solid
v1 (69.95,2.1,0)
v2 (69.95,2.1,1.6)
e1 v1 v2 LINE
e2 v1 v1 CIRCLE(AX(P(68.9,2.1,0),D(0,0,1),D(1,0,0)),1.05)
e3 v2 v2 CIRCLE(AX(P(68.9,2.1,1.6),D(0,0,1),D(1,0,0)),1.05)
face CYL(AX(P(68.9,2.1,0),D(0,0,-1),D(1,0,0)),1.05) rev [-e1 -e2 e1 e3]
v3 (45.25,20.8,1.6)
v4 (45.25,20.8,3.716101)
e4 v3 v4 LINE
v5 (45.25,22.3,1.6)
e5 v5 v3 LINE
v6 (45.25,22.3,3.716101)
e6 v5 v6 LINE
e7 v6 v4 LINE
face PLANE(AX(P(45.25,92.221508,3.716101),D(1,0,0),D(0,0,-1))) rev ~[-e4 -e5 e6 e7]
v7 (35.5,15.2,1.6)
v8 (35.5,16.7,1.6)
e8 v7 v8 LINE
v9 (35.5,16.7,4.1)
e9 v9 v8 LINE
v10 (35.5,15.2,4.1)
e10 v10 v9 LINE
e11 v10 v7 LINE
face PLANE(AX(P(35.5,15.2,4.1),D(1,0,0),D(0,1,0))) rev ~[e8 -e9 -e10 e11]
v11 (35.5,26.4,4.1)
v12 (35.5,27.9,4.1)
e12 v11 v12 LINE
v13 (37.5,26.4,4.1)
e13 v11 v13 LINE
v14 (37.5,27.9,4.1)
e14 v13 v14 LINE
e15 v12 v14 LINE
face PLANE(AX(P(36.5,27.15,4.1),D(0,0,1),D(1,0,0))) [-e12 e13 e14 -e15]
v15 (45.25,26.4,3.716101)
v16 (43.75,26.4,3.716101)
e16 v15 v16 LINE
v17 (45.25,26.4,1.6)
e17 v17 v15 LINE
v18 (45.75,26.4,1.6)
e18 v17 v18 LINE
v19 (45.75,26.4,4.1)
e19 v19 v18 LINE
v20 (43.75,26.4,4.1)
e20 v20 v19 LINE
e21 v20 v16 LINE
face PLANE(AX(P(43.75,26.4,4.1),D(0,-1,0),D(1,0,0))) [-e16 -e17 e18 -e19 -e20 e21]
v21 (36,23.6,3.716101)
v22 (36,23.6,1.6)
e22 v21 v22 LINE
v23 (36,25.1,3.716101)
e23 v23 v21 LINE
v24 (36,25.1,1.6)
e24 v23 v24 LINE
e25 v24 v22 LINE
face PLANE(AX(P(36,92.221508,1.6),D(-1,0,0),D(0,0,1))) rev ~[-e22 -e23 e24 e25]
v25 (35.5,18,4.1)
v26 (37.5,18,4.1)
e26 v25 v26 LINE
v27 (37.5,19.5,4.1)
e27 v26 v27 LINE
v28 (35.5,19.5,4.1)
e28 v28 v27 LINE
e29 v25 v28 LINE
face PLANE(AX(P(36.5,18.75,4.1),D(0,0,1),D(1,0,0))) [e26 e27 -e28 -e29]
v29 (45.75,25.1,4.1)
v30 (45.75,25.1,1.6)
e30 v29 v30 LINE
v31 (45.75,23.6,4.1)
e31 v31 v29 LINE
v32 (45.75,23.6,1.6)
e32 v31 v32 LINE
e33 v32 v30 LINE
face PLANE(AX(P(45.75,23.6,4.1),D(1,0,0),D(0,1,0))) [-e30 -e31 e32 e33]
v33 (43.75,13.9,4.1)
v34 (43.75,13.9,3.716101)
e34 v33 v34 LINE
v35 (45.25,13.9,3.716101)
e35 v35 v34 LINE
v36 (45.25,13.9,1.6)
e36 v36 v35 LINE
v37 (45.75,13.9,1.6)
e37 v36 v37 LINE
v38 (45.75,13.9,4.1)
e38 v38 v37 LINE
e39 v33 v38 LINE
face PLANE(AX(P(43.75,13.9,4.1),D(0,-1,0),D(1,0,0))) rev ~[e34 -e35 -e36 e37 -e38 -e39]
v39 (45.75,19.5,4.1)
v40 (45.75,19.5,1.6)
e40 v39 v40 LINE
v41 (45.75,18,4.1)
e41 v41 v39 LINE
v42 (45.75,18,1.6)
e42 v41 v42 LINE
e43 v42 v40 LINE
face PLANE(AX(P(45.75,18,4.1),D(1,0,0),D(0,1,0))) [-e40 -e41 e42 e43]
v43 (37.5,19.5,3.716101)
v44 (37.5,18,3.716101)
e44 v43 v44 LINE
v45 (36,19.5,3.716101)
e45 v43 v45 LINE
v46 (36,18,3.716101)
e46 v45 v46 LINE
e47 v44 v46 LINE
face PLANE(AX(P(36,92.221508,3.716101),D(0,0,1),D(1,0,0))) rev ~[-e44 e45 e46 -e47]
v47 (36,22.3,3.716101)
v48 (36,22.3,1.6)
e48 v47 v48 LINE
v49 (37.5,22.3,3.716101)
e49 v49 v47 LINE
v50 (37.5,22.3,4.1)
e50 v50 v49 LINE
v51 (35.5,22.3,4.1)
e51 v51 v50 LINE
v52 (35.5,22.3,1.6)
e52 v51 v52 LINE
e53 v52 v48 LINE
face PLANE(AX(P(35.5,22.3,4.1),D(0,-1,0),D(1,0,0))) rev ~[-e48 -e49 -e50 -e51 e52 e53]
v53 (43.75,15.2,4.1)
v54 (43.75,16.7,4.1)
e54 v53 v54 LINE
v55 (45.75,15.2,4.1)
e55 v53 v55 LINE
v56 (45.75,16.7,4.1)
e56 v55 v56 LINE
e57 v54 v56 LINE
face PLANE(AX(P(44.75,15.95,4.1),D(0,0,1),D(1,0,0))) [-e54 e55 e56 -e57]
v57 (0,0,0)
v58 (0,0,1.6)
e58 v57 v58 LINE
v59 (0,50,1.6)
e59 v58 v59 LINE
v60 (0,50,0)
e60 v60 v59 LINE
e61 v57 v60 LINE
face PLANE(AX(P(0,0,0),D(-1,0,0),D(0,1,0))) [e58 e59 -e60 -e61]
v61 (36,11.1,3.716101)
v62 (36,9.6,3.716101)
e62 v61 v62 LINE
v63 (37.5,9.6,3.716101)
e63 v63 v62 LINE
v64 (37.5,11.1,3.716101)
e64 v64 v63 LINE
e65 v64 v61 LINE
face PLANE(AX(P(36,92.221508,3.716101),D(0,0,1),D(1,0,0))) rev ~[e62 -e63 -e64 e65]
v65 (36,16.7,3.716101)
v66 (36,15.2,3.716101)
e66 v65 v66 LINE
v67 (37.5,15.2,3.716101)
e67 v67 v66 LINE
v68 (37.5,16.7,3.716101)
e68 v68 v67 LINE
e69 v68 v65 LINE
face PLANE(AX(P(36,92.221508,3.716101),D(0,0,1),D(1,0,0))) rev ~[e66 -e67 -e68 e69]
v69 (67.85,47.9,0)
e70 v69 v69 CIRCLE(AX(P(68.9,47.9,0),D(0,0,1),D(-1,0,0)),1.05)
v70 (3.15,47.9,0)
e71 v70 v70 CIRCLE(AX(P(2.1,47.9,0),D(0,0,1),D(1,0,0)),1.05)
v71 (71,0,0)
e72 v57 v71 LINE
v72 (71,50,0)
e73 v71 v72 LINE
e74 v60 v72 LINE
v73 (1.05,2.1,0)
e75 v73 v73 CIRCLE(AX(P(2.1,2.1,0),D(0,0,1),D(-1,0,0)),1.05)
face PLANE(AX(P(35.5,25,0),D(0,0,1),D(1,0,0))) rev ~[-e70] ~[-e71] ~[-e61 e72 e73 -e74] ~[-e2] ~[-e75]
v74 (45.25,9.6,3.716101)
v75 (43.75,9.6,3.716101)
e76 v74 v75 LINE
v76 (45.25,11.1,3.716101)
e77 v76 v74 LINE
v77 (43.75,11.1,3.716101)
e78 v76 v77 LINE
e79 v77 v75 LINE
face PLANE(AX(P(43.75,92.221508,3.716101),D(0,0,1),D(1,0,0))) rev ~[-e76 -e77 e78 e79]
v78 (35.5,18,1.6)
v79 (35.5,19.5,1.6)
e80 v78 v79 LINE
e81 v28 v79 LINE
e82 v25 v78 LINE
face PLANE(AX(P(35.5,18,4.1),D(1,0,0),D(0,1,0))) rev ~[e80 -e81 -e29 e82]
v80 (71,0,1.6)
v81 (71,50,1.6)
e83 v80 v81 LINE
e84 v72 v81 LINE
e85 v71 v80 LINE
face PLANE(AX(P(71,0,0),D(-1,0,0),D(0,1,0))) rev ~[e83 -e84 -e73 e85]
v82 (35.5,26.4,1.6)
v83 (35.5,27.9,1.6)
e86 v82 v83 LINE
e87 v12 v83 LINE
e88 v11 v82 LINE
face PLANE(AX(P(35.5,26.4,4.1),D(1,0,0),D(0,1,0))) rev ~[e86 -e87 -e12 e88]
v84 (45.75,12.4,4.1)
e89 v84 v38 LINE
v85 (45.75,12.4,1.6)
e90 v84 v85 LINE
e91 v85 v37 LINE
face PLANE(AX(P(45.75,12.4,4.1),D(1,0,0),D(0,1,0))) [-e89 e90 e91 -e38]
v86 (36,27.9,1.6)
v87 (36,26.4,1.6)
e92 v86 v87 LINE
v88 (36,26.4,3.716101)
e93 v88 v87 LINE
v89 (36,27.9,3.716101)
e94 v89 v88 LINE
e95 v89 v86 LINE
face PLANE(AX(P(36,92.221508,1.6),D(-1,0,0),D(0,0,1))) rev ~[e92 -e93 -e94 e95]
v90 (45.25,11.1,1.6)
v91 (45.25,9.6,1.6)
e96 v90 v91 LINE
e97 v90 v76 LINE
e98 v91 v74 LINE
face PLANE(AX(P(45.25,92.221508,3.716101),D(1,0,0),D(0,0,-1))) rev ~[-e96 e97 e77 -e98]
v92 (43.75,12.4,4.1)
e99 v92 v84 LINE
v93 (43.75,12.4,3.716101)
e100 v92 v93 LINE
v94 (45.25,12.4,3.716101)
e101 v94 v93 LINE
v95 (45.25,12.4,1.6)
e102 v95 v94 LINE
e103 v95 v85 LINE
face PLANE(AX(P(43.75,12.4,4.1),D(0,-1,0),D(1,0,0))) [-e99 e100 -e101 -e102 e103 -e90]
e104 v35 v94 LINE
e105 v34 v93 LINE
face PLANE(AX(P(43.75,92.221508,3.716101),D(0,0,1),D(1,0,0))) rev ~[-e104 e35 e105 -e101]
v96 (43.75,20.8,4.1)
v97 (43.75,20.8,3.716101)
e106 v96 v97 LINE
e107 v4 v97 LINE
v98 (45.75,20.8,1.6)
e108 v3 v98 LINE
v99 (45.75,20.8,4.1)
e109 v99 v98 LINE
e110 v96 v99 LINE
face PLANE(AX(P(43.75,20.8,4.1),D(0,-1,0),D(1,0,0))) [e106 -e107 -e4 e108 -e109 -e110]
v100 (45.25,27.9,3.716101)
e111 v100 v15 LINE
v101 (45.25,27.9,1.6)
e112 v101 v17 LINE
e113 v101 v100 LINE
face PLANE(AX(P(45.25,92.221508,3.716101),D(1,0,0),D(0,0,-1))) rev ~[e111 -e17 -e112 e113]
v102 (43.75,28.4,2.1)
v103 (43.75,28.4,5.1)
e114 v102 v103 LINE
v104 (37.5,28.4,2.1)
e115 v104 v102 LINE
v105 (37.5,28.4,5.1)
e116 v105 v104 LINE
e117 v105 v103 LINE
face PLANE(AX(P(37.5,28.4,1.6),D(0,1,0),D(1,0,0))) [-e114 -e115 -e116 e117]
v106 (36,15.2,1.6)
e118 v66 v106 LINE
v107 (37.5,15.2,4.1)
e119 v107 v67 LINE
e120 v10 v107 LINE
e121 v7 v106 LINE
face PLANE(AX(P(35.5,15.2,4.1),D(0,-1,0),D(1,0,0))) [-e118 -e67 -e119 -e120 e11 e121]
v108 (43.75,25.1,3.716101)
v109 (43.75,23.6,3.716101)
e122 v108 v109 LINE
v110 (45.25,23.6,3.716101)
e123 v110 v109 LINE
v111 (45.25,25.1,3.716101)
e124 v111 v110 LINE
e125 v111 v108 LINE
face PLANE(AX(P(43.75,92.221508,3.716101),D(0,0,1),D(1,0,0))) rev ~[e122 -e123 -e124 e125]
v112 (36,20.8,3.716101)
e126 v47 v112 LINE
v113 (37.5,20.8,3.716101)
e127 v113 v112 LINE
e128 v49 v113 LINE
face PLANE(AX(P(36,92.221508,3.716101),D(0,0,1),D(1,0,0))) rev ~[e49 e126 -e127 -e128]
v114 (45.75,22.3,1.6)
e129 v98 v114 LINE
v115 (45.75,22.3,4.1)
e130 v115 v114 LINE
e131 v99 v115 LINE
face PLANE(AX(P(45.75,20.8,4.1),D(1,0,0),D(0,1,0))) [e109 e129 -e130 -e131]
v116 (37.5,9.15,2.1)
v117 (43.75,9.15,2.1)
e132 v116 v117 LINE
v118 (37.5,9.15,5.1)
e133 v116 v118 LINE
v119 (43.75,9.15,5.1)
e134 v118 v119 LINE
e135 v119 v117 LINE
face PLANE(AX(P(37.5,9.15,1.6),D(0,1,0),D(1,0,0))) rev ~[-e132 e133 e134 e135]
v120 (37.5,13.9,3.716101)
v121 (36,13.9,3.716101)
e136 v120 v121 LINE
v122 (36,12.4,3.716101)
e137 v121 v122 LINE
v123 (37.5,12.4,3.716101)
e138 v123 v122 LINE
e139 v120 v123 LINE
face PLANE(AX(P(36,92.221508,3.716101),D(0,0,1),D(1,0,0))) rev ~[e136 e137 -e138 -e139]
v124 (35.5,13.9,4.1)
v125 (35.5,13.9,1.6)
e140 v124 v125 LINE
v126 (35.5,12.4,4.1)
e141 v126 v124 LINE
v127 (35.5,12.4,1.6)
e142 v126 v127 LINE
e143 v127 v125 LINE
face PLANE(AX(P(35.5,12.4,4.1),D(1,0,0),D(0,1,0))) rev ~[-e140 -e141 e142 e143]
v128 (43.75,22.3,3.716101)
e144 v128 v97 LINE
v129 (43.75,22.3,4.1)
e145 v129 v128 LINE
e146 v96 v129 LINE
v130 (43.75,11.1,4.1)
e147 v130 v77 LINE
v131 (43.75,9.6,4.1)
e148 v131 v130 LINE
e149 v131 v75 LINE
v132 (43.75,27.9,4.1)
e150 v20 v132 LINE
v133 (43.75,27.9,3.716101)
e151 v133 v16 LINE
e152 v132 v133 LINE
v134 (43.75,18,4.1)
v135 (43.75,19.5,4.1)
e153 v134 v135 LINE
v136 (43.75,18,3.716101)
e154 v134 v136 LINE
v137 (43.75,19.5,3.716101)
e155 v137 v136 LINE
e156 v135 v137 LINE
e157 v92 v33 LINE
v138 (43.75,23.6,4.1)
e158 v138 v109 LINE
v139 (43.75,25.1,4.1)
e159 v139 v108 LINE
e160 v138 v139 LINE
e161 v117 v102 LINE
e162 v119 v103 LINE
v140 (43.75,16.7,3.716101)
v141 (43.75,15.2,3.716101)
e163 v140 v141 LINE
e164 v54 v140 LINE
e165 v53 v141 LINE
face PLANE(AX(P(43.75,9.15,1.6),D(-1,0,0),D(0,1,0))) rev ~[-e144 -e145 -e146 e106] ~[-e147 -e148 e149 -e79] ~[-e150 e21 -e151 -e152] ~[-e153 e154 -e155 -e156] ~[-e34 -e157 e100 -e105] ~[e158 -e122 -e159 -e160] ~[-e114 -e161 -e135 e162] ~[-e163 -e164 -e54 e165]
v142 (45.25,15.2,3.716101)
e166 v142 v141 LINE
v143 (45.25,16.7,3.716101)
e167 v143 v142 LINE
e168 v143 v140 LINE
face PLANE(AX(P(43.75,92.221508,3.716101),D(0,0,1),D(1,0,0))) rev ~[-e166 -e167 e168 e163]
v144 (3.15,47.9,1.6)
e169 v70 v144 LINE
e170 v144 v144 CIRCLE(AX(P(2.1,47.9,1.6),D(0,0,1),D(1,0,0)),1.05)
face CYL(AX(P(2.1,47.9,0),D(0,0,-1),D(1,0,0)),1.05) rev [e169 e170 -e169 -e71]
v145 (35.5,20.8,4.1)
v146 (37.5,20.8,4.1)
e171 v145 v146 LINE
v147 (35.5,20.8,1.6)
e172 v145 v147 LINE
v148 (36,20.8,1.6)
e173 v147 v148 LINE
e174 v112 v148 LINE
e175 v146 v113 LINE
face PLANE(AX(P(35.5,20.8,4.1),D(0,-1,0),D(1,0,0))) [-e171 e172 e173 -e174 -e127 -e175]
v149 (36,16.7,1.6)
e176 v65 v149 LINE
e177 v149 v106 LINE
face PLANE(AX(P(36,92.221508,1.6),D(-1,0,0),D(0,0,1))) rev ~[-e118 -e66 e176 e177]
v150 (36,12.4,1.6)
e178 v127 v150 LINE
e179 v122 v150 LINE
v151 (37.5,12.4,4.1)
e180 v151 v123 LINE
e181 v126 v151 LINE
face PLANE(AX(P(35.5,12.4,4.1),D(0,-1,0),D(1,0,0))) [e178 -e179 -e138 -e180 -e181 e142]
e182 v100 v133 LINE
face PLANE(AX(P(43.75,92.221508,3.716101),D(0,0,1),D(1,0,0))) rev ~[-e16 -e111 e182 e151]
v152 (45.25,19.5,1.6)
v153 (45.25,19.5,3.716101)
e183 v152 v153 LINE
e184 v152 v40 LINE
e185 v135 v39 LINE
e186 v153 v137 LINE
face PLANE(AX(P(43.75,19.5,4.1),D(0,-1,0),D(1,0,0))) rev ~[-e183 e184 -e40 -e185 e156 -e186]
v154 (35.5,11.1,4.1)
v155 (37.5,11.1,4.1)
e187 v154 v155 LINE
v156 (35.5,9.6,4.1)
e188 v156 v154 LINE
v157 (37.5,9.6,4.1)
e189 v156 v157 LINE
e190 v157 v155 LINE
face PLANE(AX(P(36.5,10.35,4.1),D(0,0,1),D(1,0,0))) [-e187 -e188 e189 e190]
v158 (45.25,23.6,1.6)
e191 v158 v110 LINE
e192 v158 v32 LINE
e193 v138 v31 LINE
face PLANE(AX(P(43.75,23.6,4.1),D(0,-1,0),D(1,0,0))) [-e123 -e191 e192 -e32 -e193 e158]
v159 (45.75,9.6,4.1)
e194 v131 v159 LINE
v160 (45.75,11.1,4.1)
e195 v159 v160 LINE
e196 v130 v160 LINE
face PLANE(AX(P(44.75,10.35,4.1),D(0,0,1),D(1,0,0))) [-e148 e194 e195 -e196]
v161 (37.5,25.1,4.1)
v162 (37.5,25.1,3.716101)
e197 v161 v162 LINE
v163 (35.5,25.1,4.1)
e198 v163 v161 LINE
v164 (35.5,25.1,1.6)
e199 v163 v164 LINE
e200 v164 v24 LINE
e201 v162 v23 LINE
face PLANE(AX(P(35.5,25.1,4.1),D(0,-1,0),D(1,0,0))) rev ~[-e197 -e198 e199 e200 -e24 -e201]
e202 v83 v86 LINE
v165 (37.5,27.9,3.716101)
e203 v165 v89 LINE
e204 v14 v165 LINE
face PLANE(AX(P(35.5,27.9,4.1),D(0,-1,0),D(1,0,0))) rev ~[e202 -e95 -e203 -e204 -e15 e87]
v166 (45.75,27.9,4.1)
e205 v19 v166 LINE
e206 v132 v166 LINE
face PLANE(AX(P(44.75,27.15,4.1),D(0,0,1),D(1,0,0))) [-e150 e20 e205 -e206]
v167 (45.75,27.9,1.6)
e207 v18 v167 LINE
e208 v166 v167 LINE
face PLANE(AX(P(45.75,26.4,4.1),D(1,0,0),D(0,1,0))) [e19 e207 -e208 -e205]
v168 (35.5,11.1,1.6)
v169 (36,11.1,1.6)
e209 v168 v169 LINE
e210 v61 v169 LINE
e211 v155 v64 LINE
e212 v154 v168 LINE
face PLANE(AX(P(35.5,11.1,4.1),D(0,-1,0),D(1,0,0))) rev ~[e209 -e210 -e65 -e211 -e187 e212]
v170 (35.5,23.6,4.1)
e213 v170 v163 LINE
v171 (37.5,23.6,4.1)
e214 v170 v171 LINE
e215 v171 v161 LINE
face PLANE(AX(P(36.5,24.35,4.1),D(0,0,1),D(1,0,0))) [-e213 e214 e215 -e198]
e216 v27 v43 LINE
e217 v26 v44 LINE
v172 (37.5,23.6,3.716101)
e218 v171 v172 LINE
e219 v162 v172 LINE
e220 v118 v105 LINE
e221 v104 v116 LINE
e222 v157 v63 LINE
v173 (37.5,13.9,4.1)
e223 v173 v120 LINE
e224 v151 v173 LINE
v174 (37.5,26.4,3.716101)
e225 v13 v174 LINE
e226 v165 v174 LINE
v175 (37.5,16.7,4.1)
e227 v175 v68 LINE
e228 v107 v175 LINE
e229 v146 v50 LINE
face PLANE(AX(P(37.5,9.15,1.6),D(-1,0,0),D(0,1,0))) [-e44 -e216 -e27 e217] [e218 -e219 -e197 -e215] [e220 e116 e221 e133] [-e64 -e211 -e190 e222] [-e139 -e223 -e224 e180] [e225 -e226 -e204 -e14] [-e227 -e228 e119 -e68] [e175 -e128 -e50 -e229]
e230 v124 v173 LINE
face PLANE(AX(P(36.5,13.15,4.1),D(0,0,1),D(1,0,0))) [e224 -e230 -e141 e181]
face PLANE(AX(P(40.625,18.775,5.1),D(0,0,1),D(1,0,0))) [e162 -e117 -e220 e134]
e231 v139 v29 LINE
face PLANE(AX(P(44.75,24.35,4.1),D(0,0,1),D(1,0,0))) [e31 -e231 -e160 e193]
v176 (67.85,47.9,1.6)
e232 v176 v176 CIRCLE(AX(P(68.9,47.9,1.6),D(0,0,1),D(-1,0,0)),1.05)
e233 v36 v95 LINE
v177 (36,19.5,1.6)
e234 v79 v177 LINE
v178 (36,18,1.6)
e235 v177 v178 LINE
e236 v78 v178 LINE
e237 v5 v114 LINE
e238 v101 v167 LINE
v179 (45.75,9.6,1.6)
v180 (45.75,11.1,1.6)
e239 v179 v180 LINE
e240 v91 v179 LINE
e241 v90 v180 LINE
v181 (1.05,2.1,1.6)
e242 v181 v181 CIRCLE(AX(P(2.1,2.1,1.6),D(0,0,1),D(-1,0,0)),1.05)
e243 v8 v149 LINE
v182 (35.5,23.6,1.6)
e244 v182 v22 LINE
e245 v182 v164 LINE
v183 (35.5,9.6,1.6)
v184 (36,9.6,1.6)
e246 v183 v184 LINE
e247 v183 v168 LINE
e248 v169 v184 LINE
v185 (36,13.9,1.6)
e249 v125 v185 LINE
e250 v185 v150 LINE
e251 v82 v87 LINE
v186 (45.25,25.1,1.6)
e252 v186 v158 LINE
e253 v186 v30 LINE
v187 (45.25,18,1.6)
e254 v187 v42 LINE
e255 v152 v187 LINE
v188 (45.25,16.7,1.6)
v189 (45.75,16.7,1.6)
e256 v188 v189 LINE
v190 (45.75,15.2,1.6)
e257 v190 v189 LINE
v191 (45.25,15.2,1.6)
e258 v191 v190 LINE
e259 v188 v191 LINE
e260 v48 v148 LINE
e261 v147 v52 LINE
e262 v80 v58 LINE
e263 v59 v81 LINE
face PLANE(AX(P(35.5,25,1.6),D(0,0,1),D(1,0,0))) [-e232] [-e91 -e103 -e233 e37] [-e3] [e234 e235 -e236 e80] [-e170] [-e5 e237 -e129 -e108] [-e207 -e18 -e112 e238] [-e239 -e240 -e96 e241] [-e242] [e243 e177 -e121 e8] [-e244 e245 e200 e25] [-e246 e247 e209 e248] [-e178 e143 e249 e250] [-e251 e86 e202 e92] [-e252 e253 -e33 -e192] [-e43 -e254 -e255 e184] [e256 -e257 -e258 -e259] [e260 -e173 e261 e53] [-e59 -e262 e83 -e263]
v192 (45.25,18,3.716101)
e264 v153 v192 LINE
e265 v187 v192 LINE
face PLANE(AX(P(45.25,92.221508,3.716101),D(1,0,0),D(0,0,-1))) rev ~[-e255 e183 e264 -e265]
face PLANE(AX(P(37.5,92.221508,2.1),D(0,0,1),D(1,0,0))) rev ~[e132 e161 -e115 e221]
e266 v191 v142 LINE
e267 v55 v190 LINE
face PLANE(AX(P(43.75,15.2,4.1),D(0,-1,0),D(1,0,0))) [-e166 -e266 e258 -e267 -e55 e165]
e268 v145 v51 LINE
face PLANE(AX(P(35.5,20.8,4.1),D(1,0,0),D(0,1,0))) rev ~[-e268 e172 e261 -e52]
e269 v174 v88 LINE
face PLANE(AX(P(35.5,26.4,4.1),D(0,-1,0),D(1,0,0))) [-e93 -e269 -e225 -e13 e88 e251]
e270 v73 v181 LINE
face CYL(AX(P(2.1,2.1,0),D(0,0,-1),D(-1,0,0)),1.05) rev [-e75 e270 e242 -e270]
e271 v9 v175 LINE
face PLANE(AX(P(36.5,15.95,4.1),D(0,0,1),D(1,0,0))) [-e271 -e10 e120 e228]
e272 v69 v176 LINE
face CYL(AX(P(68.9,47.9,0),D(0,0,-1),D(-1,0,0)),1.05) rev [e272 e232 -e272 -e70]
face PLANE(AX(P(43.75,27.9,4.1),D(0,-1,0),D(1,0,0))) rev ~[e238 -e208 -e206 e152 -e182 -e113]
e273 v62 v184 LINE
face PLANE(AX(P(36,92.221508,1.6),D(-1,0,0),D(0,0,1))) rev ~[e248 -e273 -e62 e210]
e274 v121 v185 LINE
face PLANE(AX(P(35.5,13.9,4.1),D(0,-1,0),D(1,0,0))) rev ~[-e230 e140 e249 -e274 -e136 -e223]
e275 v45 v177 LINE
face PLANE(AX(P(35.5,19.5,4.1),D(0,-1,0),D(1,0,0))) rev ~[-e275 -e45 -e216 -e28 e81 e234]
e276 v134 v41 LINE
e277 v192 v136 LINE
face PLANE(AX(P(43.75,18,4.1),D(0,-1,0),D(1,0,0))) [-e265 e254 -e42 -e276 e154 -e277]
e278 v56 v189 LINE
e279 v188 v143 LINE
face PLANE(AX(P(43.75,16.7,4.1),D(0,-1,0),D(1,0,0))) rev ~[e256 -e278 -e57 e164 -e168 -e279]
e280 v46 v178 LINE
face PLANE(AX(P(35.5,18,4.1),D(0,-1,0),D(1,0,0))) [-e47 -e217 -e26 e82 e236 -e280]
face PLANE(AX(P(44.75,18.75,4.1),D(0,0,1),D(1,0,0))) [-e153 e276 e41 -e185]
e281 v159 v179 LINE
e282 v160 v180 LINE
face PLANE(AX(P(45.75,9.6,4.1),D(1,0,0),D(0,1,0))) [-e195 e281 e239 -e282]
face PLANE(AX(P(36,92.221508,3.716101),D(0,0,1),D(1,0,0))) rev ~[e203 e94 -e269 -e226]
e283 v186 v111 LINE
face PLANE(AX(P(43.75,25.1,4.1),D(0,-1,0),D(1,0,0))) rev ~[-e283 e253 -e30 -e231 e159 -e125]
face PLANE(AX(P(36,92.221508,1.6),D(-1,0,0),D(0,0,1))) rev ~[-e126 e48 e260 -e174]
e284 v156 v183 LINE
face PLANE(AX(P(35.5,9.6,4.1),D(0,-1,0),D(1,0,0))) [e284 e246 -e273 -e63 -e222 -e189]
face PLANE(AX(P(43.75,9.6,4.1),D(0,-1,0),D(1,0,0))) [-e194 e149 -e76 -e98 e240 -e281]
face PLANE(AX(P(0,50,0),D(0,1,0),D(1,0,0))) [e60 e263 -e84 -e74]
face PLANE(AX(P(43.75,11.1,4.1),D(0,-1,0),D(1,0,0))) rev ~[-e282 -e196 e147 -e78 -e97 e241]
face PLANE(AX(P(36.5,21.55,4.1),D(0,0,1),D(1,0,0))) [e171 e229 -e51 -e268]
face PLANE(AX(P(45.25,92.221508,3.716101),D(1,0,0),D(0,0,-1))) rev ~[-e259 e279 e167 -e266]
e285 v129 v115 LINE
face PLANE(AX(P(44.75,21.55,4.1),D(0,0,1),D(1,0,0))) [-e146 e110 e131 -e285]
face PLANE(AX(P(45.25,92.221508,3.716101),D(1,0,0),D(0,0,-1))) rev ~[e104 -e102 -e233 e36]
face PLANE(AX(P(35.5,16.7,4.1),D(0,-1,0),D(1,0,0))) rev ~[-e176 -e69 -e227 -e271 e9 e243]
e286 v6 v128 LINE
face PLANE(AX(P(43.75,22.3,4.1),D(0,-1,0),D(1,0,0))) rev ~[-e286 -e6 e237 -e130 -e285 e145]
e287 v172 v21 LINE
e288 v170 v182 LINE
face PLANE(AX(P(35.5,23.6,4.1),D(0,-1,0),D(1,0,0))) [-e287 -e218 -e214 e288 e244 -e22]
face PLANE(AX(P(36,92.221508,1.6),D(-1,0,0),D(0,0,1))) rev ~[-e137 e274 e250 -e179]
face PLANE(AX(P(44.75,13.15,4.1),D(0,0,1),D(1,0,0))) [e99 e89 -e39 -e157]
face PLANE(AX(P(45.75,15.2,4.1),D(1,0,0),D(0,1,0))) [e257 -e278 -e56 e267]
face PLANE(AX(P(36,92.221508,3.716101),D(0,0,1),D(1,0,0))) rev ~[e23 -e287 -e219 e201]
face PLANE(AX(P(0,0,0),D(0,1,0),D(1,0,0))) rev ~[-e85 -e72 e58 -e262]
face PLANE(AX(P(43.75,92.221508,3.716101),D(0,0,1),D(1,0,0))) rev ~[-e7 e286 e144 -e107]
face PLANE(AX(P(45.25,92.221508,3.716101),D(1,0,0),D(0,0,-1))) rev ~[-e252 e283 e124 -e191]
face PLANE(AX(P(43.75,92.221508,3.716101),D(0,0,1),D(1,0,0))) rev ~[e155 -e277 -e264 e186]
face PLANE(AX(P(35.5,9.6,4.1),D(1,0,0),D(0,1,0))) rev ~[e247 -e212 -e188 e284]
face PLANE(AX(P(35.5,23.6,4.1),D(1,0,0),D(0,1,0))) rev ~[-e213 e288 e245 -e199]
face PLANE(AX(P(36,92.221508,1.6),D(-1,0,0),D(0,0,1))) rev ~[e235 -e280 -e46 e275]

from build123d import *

# Parameters (mm, degrees)
SKETCH_1_W               = 71
SKETCH_1_H               = 50
SKETCH_1_R               = 1.05
EXTRUDE_1_DEPTH          = 1.6
SKETCH_2_W               = 6.25
SKETCH_2_H               = 19.25
EXTRUDE_2_DEPTH          = 3.5
EXTRUDE_START            = -1
SKETCH_4_W               = 2
SKETCH_4_H               = 1.5
EXTRUDE_3_DEPTH          = 2.5
CUT_EXTRUDE_1_DEPTH      = 83.071508455
CUT_EXTRUDE_1_DEPTH_BACK = 83.071508455


with BuildPart() as part:
    # Эскиз1 → Бобышка-Вытянуть1 (new body)
    with BuildSketch(Plane.XY):
        with Locations((35.5, 25)):
            Rectangle(SKETCH_1_W, SKETCH_1_H)
        with Locations((2.1, 47.9)):
            Circle(SKETCH_1_R, mode=Mode.SUBTRACT)
        with Locations(Location((68.9, 47.9, 0), (0, 0, 180))):
            Circle(SKETCH_1_R, mode=Mode.SUBTRACT)
        with Locations((68.9, 2.1)):
            Circle(SKETCH_1_R, mode=Mode.SUBTRACT)
        with Locations(Location((2.1, 2.1, 0), (0, 0, 180))):
            Circle(SKETCH_1_R, mode=Mode.SUBTRACT)
    extrude(amount=EXTRUDE_1_DEPTH)

    # Эскиз2 → Бобышка-Вытянуть2 (add)
    with BuildSketch(Plane.XY.offset(1.6)):
        with Locations((40.625, 18.775)):
            Rectangle(SKETCH_2_W, SKETCH_2_H)
    extrude(amount=EXTRUDE_2_DEPTH)

    # Эскиз4 → Бобышка-Вытянуть3 (add)
    with BuildSketch(Plane.XY.offset(5.1).offset(EXTRUDE_START)):
        with Locations((36.5, 27.15)):
            Rectangle(SKETCH_4_W, SKETCH_4_H)
        with Locations((44.75, 27.15)):
            Rectangle(SKETCH_4_W, SKETCH_4_H)
        with Locations((44.75, 24.35)):
            Rectangle(SKETCH_4_W, SKETCH_4_H)
        with Locations((44.75, 21.55)):
            Rectangle(SKETCH_4_W, SKETCH_4_H)
        with Locations((44.75, 18.75)):
            Rectangle(SKETCH_4_W, SKETCH_4_H)
        with Locations((44.75, 15.95)):
            Rectangle(SKETCH_4_W, SKETCH_4_H)
        with Locations((44.75, 13.15)):
            Rectangle(SKETCH_4_W, SKETCH_4_H)
        with Locations((44.75, 10.35)):
            Rectangle(SKETCH_4_W, SKETCH_4_H)
        with Locations((36.5, 24.35)):
            Rectangle(SKETCH_4_W, SKETCH_4_H)
        with Locations((36.5, 21.55)):
            Rectangle(SKETCH_4_W, SKETCH_4_H)
        with Locations((36.5, 18.75)):
            Rectangle(SKETCH_4_W, SKETCH_4_H)
        with Locations((36.5, 15.95)):
            Rectangle(SKETCH_4_W, SKETCH_4_H)
        with Locations((36.5, 13.15)):
            Rectangle(SKETCH_4_W, SKETCH_4_H)
        with Locations((36.5, 10.35)):
            Rectangle(SKETCH_4_W, SKETCH_4_H)
    extrude(amount=-EXTRUDE_3_DEPTH)

    # Эскиз5 → Вырез-Вытянуть1 (cut, two sides: drawn at the far end of the back side and taken through both)
    with BuildSketch(Plane.XZ.offset(-9.15).offset(-CUT_EXTRUDE_1_DEPTH_BACK)):
        Polygon((36, 1.6), (36, 3.716101485), (37.5, 3.716101485), (37.5, 2.1), (43.75, 2.1), (43.75, 3.716101485), (45.25, 3.716101485), (45.25, 1.6), align=None)
    extrude(amount=CUT_EXTRUDE_1_DEPTH + CUT_EXTRUDE_1_DEPTH_BACK, mode=Mode.SUBTRACT)


solid = part.part
